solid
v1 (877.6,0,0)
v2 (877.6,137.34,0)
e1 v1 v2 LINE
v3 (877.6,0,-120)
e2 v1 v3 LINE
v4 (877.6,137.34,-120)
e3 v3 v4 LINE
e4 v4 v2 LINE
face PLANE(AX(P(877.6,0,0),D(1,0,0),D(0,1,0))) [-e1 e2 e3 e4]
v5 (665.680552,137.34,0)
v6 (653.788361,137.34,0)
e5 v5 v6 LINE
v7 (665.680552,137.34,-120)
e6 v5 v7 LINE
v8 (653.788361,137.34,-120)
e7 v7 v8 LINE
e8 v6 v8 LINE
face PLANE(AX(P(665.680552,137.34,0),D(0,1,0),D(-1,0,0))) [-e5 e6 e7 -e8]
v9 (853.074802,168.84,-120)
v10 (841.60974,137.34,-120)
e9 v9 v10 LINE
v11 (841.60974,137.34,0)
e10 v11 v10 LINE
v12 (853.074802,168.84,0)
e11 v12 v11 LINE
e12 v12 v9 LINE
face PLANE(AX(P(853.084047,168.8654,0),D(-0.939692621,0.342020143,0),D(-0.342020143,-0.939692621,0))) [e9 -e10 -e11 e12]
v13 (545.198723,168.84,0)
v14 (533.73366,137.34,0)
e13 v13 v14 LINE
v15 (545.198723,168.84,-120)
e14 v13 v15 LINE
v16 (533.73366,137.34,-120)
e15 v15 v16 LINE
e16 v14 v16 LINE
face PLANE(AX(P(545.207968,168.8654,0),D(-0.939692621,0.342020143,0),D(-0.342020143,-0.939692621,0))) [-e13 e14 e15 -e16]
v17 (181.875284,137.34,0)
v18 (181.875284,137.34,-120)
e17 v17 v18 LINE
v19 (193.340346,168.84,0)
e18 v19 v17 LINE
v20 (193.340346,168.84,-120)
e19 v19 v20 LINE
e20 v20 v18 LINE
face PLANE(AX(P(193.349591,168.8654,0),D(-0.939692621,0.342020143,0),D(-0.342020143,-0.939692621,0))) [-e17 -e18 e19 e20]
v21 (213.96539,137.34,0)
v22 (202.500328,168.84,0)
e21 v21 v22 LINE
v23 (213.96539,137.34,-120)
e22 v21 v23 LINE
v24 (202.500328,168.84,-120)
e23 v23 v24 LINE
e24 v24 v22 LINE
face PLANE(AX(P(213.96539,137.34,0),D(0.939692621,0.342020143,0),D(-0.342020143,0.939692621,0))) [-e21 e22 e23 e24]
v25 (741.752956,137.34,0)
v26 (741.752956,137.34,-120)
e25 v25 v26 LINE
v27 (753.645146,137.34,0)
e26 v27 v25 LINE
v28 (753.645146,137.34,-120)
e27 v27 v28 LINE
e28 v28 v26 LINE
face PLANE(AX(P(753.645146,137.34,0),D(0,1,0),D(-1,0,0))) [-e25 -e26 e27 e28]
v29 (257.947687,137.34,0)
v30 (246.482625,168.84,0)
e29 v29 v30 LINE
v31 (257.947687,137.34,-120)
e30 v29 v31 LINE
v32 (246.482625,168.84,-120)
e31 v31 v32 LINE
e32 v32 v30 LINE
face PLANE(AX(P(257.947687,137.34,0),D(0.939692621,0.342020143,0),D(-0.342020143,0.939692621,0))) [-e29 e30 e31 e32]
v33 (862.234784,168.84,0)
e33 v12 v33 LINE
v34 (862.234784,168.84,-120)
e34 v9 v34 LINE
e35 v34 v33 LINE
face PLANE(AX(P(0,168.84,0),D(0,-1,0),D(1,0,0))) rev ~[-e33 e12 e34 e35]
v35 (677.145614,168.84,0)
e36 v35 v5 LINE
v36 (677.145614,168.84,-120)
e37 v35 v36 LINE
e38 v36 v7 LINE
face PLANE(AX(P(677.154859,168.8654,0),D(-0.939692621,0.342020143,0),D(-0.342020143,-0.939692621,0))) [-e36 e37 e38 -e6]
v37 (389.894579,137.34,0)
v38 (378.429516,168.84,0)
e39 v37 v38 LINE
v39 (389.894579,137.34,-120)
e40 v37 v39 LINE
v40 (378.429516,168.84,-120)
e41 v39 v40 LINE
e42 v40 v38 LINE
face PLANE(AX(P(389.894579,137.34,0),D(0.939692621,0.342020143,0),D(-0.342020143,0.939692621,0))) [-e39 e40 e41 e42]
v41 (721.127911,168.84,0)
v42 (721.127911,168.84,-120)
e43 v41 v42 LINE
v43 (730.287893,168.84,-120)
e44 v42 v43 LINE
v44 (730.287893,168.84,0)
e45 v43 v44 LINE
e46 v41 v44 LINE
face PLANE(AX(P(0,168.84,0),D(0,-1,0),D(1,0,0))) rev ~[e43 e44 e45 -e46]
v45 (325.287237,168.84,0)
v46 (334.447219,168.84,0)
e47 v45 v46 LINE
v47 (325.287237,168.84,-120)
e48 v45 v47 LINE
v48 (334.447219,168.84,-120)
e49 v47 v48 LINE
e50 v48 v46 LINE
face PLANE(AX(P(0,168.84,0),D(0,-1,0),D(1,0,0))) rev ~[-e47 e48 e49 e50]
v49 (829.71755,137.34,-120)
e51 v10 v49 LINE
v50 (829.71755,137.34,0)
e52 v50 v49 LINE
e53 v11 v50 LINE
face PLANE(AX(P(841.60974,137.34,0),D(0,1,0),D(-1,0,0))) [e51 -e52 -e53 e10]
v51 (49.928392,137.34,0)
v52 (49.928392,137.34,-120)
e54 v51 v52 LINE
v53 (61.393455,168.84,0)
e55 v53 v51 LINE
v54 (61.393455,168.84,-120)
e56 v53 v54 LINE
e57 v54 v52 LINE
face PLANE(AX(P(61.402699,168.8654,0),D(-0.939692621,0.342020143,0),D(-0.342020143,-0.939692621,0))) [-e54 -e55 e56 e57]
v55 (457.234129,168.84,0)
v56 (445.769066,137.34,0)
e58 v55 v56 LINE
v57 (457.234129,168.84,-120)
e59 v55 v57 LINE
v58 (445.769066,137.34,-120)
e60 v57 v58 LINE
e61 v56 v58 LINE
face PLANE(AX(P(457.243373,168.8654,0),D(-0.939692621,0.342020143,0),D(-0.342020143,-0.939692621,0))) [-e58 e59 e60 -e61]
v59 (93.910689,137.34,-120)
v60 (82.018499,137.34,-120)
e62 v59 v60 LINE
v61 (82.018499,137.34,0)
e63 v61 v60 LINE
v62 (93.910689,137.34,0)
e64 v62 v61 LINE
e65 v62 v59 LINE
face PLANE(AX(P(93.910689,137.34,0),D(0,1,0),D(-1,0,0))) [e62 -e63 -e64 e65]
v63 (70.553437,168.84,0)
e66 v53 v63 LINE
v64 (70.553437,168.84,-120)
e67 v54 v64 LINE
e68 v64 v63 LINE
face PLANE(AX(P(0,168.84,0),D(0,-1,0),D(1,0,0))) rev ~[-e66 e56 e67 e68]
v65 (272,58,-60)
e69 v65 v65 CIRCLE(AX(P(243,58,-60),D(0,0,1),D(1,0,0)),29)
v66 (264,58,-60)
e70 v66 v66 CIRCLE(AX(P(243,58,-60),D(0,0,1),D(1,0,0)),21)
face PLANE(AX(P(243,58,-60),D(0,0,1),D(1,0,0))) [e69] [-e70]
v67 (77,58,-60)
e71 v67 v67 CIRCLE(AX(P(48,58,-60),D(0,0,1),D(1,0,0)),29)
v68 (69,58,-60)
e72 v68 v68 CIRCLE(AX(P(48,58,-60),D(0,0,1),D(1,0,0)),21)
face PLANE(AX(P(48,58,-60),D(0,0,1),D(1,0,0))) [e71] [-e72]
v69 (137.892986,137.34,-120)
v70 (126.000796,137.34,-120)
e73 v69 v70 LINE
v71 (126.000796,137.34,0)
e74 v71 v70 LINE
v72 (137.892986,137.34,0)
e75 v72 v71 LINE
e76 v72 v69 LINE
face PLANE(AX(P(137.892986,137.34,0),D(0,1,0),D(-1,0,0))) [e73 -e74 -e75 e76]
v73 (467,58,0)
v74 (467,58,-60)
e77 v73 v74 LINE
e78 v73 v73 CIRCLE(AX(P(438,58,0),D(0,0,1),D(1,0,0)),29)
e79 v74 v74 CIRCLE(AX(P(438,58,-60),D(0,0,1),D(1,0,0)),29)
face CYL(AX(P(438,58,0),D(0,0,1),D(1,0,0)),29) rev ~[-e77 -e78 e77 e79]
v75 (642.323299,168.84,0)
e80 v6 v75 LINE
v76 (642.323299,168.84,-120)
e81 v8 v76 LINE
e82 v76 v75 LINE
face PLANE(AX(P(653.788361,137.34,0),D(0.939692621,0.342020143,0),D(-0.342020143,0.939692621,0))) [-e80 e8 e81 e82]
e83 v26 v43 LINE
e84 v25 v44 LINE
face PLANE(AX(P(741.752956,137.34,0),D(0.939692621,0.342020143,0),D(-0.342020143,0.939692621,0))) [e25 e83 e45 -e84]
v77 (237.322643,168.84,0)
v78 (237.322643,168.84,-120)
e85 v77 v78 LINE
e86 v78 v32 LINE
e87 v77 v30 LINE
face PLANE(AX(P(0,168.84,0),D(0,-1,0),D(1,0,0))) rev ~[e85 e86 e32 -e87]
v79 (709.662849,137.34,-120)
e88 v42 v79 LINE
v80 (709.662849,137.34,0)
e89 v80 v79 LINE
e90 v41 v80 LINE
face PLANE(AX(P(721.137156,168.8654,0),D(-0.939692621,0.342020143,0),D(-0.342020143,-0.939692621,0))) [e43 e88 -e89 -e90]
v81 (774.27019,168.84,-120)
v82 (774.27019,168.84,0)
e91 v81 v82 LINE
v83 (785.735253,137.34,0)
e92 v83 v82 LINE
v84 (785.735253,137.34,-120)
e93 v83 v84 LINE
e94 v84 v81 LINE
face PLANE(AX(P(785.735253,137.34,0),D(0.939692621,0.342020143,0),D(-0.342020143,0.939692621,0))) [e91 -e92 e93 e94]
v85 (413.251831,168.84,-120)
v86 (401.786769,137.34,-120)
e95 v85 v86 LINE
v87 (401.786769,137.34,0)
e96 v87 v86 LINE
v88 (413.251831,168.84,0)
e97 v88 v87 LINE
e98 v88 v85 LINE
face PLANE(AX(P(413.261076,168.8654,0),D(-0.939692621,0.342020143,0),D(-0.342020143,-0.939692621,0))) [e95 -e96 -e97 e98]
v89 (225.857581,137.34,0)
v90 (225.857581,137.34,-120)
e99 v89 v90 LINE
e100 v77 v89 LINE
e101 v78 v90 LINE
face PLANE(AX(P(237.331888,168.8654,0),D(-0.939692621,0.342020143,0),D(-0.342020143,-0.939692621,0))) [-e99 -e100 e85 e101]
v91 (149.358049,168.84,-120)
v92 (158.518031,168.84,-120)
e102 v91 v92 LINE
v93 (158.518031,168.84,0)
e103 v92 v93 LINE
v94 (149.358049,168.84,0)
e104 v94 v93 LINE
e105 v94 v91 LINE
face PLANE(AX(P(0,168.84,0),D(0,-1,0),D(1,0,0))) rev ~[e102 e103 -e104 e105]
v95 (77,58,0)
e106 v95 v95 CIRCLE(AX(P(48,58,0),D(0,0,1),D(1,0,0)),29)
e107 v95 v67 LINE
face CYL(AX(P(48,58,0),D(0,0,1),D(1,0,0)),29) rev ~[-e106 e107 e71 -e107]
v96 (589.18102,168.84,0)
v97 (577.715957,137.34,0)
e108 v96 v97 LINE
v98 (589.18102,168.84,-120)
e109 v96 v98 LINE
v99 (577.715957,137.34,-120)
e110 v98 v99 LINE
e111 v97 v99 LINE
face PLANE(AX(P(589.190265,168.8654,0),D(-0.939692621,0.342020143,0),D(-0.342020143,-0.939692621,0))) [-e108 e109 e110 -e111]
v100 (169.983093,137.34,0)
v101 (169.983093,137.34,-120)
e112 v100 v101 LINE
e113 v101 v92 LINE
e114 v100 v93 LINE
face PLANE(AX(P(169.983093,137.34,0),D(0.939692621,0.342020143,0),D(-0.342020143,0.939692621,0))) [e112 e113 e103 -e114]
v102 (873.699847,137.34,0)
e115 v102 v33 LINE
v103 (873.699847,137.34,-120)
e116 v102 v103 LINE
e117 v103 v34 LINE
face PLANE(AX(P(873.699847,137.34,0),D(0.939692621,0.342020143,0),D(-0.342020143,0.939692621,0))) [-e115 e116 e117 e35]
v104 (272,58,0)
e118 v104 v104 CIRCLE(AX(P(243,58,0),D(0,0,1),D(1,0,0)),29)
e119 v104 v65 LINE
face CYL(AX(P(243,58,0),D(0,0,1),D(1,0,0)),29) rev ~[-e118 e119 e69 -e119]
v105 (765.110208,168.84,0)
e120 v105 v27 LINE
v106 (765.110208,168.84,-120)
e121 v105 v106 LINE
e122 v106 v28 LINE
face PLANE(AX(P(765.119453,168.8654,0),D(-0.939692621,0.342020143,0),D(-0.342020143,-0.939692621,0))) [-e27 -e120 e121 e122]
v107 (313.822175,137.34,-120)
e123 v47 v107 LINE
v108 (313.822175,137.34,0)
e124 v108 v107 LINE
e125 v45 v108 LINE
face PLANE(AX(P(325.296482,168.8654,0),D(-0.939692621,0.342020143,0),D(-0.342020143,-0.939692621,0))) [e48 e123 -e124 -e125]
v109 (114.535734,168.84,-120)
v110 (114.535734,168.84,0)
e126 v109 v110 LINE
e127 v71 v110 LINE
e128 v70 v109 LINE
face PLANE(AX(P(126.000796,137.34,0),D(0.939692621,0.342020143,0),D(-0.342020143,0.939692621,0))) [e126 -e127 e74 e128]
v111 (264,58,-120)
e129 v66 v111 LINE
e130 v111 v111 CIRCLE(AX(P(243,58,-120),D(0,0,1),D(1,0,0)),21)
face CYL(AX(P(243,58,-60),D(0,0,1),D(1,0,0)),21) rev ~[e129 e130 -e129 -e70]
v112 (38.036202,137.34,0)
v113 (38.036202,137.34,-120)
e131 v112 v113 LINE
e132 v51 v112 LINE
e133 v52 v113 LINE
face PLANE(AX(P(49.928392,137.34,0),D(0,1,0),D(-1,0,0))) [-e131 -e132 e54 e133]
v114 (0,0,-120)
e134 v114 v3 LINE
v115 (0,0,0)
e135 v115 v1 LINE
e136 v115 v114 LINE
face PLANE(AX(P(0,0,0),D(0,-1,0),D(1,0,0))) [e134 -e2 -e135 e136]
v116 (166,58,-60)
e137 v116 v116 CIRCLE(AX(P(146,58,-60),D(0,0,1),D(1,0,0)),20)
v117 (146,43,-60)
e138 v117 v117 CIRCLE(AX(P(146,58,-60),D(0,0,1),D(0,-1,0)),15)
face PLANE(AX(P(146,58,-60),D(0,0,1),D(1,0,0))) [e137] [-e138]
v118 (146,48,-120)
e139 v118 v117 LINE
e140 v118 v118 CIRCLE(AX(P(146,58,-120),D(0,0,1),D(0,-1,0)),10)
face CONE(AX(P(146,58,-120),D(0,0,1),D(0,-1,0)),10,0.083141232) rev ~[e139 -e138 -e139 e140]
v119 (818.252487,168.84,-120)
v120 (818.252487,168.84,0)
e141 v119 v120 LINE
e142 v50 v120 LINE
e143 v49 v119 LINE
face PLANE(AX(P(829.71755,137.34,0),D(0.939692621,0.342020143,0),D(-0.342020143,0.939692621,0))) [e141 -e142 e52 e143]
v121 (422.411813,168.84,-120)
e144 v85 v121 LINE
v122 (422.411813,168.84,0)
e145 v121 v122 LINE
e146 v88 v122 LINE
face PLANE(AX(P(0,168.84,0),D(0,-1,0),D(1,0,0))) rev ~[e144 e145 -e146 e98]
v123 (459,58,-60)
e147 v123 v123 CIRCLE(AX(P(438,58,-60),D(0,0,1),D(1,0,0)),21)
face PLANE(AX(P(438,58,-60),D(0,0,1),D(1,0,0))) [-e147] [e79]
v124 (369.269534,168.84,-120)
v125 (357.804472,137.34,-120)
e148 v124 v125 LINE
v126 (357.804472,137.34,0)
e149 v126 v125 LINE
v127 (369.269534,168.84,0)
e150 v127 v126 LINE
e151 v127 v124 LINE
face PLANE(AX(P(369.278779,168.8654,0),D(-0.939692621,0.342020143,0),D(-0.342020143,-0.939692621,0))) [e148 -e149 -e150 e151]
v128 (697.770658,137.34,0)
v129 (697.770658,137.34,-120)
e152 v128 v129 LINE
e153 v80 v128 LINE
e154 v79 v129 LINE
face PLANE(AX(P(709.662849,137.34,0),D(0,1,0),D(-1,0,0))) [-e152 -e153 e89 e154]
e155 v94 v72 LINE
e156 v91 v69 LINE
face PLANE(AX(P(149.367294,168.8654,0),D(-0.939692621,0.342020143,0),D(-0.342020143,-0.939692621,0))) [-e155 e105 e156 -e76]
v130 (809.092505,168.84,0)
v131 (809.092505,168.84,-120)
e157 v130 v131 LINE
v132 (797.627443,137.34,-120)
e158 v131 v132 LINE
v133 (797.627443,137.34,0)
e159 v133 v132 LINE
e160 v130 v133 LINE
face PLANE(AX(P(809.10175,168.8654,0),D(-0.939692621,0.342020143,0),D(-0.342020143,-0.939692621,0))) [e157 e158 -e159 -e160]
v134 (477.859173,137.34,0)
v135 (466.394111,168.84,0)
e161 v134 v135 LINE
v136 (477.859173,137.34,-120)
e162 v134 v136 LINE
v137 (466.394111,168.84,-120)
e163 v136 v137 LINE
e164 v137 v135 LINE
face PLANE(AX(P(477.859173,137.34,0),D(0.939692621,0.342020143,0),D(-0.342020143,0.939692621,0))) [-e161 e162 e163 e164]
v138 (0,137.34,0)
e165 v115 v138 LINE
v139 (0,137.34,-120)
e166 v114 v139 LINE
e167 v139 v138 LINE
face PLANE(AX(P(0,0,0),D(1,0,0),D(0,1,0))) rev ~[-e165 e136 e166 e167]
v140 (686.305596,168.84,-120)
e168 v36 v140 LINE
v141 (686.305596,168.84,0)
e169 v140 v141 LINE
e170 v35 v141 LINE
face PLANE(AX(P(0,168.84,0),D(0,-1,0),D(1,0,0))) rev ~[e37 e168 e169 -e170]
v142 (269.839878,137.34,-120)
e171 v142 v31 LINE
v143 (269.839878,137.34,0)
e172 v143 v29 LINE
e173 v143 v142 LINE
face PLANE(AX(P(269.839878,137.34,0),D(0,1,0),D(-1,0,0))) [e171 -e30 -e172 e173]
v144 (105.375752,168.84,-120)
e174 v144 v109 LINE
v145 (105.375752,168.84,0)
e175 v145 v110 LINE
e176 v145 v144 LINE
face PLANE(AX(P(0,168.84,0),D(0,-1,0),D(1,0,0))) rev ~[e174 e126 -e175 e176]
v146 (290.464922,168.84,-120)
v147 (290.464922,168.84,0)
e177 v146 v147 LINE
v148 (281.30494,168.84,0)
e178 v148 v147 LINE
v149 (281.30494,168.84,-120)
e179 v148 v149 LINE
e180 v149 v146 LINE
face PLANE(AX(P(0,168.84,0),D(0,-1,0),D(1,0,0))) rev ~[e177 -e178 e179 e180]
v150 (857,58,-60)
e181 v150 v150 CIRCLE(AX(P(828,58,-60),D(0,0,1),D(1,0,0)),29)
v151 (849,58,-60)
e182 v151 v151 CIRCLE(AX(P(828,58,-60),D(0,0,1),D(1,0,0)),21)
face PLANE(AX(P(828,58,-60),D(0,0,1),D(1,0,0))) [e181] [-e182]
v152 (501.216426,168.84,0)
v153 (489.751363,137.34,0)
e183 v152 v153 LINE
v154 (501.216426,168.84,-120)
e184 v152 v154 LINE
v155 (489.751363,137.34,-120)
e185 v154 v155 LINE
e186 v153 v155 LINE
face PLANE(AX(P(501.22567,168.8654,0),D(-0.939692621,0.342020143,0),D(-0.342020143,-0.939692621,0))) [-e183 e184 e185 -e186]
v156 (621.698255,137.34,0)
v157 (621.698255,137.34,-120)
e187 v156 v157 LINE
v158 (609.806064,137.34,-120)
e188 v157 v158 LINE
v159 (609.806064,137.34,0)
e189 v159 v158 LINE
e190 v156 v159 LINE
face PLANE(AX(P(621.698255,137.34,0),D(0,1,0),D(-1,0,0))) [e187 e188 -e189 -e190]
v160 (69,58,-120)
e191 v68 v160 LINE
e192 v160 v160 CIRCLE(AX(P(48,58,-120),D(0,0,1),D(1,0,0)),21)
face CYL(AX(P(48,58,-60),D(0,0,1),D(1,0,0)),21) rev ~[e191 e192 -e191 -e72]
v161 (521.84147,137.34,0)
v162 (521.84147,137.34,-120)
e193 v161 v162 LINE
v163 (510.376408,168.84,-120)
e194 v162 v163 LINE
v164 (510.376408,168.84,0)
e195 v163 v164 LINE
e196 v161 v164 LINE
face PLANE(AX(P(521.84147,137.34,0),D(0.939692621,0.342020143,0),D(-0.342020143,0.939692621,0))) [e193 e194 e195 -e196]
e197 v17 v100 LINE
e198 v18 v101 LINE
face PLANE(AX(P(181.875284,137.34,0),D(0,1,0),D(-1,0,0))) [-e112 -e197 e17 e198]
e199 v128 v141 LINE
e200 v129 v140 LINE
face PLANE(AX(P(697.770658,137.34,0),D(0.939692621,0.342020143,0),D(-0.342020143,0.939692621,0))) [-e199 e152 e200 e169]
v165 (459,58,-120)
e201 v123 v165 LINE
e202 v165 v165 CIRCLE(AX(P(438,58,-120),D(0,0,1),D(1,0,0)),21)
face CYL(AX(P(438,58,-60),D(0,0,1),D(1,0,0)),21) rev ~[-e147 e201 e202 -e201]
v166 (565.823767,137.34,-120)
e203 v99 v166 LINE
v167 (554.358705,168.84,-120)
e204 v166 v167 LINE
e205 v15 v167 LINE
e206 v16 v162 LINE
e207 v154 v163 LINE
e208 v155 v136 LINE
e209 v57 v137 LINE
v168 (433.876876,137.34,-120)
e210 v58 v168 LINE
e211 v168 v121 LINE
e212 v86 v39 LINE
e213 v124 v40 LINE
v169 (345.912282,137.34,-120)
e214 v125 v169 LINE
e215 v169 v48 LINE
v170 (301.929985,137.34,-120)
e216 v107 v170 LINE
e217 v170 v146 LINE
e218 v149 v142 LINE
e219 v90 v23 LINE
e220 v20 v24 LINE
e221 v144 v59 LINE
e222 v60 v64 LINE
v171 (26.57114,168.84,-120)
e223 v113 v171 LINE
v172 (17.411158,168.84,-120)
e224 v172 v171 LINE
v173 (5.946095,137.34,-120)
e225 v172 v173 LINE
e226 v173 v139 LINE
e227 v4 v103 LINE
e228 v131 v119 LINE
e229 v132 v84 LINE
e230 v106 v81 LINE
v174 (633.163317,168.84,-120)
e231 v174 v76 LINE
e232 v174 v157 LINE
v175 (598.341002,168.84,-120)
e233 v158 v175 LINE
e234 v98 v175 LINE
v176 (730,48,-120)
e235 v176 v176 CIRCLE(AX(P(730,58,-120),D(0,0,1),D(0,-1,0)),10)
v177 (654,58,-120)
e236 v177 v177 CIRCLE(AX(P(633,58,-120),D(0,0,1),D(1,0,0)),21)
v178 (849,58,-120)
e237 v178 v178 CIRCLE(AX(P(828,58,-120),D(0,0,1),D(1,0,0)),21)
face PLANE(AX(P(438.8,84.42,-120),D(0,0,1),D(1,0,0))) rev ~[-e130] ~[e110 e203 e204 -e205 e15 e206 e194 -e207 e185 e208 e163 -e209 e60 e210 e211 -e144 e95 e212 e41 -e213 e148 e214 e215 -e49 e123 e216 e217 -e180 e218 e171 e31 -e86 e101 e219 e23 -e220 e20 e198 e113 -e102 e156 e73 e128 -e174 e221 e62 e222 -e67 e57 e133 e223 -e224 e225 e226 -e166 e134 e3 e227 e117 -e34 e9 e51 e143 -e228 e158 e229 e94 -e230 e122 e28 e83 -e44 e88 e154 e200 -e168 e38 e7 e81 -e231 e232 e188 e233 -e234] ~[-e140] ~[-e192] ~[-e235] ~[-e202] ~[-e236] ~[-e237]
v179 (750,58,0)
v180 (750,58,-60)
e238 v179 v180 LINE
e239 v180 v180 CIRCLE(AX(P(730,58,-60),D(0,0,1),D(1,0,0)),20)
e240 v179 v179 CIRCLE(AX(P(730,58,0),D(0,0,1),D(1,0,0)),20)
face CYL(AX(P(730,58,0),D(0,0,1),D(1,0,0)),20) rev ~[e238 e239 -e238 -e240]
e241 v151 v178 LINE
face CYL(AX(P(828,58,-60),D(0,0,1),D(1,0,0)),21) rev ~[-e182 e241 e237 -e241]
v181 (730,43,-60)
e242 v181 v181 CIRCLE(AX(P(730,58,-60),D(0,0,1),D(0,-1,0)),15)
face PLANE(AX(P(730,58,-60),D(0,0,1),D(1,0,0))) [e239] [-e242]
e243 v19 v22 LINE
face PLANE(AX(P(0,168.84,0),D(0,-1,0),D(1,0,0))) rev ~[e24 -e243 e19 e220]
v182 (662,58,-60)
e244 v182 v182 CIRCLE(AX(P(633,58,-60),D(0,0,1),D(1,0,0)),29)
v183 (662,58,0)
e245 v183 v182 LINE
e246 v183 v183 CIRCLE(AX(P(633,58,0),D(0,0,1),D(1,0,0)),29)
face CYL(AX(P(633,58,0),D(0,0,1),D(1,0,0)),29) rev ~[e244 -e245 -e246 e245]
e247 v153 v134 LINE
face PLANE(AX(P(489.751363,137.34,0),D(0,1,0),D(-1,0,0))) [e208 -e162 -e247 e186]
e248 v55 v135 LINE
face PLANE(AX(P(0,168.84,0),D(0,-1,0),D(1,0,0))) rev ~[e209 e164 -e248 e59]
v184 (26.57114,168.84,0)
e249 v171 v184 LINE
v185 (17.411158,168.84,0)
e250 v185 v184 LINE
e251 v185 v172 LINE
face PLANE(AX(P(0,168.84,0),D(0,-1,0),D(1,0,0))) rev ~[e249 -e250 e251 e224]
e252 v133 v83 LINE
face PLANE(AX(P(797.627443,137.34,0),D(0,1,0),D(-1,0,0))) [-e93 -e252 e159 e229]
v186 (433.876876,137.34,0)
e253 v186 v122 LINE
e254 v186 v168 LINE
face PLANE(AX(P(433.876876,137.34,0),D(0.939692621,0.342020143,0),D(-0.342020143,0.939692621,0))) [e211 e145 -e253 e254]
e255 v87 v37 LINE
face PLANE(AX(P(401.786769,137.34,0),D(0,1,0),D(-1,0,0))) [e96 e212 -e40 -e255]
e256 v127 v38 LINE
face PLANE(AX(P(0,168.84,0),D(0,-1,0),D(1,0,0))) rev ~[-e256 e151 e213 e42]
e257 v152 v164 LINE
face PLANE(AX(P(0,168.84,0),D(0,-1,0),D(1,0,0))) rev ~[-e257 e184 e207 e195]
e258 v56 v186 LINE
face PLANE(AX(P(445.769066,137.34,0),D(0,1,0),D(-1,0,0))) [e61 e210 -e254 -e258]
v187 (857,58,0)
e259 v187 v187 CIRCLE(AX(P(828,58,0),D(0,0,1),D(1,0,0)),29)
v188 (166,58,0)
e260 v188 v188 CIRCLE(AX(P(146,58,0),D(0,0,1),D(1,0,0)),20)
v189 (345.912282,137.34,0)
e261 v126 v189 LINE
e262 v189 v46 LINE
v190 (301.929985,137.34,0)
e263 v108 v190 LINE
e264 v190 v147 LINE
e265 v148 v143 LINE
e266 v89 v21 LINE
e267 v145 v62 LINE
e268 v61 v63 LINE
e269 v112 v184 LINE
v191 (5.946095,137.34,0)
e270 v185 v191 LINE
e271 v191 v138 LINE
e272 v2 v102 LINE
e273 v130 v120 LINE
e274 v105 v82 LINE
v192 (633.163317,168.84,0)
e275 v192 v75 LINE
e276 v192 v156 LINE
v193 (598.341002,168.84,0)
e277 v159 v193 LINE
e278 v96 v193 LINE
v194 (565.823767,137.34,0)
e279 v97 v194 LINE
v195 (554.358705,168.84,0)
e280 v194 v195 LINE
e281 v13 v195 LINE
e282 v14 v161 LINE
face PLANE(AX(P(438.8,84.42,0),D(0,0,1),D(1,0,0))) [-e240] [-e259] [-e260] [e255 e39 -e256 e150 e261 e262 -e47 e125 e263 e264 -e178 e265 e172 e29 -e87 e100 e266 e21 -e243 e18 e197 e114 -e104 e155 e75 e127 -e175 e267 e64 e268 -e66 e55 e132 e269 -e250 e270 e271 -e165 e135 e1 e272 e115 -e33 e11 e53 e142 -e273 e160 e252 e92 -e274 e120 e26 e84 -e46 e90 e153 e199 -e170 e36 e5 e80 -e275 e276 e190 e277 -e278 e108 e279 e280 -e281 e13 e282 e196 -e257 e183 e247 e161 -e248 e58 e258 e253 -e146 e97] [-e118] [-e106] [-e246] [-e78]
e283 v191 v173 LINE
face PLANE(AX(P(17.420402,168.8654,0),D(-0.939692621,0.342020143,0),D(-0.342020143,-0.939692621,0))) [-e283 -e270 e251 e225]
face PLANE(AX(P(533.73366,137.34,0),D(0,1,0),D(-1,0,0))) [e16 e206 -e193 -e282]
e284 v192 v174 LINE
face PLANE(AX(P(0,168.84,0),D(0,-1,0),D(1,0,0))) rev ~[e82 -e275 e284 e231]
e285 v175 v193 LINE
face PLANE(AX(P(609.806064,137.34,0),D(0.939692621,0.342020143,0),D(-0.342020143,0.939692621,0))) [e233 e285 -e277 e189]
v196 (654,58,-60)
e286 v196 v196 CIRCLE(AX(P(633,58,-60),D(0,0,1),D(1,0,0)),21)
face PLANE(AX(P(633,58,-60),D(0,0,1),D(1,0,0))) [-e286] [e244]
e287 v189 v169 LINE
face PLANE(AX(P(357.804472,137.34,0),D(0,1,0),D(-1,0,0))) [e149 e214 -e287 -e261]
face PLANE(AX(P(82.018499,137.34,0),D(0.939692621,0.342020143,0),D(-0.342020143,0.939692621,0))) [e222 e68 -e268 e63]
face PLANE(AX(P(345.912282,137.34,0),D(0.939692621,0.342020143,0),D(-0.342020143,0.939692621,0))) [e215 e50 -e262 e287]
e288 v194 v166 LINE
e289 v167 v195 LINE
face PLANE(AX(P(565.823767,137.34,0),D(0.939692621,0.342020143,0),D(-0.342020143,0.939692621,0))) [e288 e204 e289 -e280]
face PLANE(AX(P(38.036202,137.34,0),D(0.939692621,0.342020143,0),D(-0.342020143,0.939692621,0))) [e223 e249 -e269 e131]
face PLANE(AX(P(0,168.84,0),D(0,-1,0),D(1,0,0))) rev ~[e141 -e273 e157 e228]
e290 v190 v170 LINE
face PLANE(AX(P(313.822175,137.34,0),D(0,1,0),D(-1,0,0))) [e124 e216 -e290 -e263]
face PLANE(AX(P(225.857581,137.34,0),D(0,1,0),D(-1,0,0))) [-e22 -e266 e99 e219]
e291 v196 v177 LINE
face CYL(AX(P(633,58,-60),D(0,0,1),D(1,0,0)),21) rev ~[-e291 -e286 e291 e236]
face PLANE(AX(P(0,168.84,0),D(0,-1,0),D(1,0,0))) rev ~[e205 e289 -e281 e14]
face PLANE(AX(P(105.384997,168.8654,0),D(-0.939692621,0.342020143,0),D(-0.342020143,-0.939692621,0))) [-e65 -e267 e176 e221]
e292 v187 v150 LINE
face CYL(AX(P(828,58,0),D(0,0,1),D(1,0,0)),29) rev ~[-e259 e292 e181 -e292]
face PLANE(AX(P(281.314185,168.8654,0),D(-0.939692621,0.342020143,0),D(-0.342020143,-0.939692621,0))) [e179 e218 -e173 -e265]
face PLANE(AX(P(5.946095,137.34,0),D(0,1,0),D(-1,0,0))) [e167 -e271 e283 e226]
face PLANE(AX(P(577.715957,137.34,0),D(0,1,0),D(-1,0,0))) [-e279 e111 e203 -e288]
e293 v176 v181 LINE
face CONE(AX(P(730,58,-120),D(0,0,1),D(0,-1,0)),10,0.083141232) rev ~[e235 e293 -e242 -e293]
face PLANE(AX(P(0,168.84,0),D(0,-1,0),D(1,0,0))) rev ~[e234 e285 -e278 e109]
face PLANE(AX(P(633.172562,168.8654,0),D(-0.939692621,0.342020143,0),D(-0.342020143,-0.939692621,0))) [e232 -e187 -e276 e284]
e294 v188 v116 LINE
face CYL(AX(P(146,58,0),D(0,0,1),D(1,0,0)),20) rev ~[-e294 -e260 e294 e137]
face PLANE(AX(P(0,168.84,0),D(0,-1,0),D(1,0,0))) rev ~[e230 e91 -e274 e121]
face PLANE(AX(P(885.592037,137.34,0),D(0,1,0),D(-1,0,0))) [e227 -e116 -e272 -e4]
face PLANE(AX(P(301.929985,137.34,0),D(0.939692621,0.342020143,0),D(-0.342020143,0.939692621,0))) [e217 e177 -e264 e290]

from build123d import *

# Parameters (mm, degrees)
BLANKSKE_W               = 877.6
BLANKSKE_H               = 168.84
BLANK_DEPTH              = 120
TOOTHCUTSIM_DEPTH        = 902.714314847
TEETHCUTS_COUNT          = 21
TEETHCUTS_PITCH          = 43.9822971
SKETCH_1_R               = 29
SKETCH_1_R_2             = 20
CUT_EXTRUDE_2_DEPTH      = 60
SKETCH_2_R               = 21
CUT_EXTRUDE_3_DEPTH      = 60
HOLE_WIZARD_1_AT_2_COUNT = 2
HOLE_WIZARD_1_AT_2_PITCH = 584


with BuildPart() as part:
    # BlankSke → Blank (new body)
    with BuildSketch(Plane.XY):
        with Locations((438.8, 84.42)):
            Rectangle(BLANKSKE_W, BLANKSKE_H)
    extrude(amount=-BLANK_DEPTH)

    # TooCutSkeSim → ToothCutSim (cut, through all)
    with BuildSketch(Plane.XY):
        Polygon((5.946095175, 137.34), (-5.946095175, 137.34), (-17.420402399, 168.8654), (17.420402399, 168.8654), align=None)
    toothcutsim = extrude(amount=-TOOTHCUTSIM_DEPTH, mode=Mode.SUBTRACT)

    # TeethCuts: ToothCutSim ×21
    with Locations(*[(i * TEETHCUTS_PITCH, 0, 0) for i in range(1, TEETHCUTS_COUNT)]):
        add(toothcutsim, mode=Mode.SUBTRACT)

    # 草图1 → 切除-拉伸2 (cut)
    with BuildSketch(Plane.XY):
        with Locations((48, 58)):
            Circle(SKETCH_1_R)
        with Locations((146, 58)):
            Circle(SKETCH_1_R_2)
        with Locations((243, 58)):
            Circle(SKETCH_1_R)
        with Locations((438, 58)):
            Circle(SKETCH_1_R)
        with Locations((633, 58)):
            Circle(SKETCH_1_R)
        with Locations((730, 58)):
            Circle(SKETCH_1_R_2)
        with Locations((828, 58)):
            Circle(SKETCH_1_R)
    extrude(amount=-CUT_EXTRUDE_2_DEPTH, mode=Mode.SUBTRACT)

    # 草图2 → 切除-拉伸3 (cut)
    with BuildSketch(Plane.XY.offset(-60)):
        with Locations((48, 58)):
            Circle(SKETCH_2_R)
        with Locations((243, 58)):
            Circle(SKETCH_2_R)
        with Locations((438, 58)):
            Circle(SKETCH_2_R)
        with Locations((633, 58)):
            Circle(SKETCH_2_R)
        with Locations((828, 58)):
            Circle(SKETCH_2_R)
    extrude(amount=-CUT_EXTRUDE_3_DEPTH, mode=Mode.SUBTRACT)

    # 草图6 → 孔1 (revolve, cut)
    with BuildSketch(Plane(origin=(146, 58, -60), x_dir=(0, -1, 0), z_dir=(1, 0, 0))):
        Polygon((0, 0), (0, 60), (10, 60), (15, 0), align=None)
    hole_wizard_1 = revolve(axis=Axis((146, 58, -170), (0, 0, 1)), mode=Mode.SUBTRACT)

    # 孔1 at 2: 孔1 ×2
    with Locations(*[(i * HOLE_WIZARD_1_AT_2_PITCH, 0, 0) for i in range(1, HOLE_WIZARD_1_AT_2_COUNT)]):
        add(hole_wizard_1, mode=Mode.SUBTRACT)


solid = part.part
